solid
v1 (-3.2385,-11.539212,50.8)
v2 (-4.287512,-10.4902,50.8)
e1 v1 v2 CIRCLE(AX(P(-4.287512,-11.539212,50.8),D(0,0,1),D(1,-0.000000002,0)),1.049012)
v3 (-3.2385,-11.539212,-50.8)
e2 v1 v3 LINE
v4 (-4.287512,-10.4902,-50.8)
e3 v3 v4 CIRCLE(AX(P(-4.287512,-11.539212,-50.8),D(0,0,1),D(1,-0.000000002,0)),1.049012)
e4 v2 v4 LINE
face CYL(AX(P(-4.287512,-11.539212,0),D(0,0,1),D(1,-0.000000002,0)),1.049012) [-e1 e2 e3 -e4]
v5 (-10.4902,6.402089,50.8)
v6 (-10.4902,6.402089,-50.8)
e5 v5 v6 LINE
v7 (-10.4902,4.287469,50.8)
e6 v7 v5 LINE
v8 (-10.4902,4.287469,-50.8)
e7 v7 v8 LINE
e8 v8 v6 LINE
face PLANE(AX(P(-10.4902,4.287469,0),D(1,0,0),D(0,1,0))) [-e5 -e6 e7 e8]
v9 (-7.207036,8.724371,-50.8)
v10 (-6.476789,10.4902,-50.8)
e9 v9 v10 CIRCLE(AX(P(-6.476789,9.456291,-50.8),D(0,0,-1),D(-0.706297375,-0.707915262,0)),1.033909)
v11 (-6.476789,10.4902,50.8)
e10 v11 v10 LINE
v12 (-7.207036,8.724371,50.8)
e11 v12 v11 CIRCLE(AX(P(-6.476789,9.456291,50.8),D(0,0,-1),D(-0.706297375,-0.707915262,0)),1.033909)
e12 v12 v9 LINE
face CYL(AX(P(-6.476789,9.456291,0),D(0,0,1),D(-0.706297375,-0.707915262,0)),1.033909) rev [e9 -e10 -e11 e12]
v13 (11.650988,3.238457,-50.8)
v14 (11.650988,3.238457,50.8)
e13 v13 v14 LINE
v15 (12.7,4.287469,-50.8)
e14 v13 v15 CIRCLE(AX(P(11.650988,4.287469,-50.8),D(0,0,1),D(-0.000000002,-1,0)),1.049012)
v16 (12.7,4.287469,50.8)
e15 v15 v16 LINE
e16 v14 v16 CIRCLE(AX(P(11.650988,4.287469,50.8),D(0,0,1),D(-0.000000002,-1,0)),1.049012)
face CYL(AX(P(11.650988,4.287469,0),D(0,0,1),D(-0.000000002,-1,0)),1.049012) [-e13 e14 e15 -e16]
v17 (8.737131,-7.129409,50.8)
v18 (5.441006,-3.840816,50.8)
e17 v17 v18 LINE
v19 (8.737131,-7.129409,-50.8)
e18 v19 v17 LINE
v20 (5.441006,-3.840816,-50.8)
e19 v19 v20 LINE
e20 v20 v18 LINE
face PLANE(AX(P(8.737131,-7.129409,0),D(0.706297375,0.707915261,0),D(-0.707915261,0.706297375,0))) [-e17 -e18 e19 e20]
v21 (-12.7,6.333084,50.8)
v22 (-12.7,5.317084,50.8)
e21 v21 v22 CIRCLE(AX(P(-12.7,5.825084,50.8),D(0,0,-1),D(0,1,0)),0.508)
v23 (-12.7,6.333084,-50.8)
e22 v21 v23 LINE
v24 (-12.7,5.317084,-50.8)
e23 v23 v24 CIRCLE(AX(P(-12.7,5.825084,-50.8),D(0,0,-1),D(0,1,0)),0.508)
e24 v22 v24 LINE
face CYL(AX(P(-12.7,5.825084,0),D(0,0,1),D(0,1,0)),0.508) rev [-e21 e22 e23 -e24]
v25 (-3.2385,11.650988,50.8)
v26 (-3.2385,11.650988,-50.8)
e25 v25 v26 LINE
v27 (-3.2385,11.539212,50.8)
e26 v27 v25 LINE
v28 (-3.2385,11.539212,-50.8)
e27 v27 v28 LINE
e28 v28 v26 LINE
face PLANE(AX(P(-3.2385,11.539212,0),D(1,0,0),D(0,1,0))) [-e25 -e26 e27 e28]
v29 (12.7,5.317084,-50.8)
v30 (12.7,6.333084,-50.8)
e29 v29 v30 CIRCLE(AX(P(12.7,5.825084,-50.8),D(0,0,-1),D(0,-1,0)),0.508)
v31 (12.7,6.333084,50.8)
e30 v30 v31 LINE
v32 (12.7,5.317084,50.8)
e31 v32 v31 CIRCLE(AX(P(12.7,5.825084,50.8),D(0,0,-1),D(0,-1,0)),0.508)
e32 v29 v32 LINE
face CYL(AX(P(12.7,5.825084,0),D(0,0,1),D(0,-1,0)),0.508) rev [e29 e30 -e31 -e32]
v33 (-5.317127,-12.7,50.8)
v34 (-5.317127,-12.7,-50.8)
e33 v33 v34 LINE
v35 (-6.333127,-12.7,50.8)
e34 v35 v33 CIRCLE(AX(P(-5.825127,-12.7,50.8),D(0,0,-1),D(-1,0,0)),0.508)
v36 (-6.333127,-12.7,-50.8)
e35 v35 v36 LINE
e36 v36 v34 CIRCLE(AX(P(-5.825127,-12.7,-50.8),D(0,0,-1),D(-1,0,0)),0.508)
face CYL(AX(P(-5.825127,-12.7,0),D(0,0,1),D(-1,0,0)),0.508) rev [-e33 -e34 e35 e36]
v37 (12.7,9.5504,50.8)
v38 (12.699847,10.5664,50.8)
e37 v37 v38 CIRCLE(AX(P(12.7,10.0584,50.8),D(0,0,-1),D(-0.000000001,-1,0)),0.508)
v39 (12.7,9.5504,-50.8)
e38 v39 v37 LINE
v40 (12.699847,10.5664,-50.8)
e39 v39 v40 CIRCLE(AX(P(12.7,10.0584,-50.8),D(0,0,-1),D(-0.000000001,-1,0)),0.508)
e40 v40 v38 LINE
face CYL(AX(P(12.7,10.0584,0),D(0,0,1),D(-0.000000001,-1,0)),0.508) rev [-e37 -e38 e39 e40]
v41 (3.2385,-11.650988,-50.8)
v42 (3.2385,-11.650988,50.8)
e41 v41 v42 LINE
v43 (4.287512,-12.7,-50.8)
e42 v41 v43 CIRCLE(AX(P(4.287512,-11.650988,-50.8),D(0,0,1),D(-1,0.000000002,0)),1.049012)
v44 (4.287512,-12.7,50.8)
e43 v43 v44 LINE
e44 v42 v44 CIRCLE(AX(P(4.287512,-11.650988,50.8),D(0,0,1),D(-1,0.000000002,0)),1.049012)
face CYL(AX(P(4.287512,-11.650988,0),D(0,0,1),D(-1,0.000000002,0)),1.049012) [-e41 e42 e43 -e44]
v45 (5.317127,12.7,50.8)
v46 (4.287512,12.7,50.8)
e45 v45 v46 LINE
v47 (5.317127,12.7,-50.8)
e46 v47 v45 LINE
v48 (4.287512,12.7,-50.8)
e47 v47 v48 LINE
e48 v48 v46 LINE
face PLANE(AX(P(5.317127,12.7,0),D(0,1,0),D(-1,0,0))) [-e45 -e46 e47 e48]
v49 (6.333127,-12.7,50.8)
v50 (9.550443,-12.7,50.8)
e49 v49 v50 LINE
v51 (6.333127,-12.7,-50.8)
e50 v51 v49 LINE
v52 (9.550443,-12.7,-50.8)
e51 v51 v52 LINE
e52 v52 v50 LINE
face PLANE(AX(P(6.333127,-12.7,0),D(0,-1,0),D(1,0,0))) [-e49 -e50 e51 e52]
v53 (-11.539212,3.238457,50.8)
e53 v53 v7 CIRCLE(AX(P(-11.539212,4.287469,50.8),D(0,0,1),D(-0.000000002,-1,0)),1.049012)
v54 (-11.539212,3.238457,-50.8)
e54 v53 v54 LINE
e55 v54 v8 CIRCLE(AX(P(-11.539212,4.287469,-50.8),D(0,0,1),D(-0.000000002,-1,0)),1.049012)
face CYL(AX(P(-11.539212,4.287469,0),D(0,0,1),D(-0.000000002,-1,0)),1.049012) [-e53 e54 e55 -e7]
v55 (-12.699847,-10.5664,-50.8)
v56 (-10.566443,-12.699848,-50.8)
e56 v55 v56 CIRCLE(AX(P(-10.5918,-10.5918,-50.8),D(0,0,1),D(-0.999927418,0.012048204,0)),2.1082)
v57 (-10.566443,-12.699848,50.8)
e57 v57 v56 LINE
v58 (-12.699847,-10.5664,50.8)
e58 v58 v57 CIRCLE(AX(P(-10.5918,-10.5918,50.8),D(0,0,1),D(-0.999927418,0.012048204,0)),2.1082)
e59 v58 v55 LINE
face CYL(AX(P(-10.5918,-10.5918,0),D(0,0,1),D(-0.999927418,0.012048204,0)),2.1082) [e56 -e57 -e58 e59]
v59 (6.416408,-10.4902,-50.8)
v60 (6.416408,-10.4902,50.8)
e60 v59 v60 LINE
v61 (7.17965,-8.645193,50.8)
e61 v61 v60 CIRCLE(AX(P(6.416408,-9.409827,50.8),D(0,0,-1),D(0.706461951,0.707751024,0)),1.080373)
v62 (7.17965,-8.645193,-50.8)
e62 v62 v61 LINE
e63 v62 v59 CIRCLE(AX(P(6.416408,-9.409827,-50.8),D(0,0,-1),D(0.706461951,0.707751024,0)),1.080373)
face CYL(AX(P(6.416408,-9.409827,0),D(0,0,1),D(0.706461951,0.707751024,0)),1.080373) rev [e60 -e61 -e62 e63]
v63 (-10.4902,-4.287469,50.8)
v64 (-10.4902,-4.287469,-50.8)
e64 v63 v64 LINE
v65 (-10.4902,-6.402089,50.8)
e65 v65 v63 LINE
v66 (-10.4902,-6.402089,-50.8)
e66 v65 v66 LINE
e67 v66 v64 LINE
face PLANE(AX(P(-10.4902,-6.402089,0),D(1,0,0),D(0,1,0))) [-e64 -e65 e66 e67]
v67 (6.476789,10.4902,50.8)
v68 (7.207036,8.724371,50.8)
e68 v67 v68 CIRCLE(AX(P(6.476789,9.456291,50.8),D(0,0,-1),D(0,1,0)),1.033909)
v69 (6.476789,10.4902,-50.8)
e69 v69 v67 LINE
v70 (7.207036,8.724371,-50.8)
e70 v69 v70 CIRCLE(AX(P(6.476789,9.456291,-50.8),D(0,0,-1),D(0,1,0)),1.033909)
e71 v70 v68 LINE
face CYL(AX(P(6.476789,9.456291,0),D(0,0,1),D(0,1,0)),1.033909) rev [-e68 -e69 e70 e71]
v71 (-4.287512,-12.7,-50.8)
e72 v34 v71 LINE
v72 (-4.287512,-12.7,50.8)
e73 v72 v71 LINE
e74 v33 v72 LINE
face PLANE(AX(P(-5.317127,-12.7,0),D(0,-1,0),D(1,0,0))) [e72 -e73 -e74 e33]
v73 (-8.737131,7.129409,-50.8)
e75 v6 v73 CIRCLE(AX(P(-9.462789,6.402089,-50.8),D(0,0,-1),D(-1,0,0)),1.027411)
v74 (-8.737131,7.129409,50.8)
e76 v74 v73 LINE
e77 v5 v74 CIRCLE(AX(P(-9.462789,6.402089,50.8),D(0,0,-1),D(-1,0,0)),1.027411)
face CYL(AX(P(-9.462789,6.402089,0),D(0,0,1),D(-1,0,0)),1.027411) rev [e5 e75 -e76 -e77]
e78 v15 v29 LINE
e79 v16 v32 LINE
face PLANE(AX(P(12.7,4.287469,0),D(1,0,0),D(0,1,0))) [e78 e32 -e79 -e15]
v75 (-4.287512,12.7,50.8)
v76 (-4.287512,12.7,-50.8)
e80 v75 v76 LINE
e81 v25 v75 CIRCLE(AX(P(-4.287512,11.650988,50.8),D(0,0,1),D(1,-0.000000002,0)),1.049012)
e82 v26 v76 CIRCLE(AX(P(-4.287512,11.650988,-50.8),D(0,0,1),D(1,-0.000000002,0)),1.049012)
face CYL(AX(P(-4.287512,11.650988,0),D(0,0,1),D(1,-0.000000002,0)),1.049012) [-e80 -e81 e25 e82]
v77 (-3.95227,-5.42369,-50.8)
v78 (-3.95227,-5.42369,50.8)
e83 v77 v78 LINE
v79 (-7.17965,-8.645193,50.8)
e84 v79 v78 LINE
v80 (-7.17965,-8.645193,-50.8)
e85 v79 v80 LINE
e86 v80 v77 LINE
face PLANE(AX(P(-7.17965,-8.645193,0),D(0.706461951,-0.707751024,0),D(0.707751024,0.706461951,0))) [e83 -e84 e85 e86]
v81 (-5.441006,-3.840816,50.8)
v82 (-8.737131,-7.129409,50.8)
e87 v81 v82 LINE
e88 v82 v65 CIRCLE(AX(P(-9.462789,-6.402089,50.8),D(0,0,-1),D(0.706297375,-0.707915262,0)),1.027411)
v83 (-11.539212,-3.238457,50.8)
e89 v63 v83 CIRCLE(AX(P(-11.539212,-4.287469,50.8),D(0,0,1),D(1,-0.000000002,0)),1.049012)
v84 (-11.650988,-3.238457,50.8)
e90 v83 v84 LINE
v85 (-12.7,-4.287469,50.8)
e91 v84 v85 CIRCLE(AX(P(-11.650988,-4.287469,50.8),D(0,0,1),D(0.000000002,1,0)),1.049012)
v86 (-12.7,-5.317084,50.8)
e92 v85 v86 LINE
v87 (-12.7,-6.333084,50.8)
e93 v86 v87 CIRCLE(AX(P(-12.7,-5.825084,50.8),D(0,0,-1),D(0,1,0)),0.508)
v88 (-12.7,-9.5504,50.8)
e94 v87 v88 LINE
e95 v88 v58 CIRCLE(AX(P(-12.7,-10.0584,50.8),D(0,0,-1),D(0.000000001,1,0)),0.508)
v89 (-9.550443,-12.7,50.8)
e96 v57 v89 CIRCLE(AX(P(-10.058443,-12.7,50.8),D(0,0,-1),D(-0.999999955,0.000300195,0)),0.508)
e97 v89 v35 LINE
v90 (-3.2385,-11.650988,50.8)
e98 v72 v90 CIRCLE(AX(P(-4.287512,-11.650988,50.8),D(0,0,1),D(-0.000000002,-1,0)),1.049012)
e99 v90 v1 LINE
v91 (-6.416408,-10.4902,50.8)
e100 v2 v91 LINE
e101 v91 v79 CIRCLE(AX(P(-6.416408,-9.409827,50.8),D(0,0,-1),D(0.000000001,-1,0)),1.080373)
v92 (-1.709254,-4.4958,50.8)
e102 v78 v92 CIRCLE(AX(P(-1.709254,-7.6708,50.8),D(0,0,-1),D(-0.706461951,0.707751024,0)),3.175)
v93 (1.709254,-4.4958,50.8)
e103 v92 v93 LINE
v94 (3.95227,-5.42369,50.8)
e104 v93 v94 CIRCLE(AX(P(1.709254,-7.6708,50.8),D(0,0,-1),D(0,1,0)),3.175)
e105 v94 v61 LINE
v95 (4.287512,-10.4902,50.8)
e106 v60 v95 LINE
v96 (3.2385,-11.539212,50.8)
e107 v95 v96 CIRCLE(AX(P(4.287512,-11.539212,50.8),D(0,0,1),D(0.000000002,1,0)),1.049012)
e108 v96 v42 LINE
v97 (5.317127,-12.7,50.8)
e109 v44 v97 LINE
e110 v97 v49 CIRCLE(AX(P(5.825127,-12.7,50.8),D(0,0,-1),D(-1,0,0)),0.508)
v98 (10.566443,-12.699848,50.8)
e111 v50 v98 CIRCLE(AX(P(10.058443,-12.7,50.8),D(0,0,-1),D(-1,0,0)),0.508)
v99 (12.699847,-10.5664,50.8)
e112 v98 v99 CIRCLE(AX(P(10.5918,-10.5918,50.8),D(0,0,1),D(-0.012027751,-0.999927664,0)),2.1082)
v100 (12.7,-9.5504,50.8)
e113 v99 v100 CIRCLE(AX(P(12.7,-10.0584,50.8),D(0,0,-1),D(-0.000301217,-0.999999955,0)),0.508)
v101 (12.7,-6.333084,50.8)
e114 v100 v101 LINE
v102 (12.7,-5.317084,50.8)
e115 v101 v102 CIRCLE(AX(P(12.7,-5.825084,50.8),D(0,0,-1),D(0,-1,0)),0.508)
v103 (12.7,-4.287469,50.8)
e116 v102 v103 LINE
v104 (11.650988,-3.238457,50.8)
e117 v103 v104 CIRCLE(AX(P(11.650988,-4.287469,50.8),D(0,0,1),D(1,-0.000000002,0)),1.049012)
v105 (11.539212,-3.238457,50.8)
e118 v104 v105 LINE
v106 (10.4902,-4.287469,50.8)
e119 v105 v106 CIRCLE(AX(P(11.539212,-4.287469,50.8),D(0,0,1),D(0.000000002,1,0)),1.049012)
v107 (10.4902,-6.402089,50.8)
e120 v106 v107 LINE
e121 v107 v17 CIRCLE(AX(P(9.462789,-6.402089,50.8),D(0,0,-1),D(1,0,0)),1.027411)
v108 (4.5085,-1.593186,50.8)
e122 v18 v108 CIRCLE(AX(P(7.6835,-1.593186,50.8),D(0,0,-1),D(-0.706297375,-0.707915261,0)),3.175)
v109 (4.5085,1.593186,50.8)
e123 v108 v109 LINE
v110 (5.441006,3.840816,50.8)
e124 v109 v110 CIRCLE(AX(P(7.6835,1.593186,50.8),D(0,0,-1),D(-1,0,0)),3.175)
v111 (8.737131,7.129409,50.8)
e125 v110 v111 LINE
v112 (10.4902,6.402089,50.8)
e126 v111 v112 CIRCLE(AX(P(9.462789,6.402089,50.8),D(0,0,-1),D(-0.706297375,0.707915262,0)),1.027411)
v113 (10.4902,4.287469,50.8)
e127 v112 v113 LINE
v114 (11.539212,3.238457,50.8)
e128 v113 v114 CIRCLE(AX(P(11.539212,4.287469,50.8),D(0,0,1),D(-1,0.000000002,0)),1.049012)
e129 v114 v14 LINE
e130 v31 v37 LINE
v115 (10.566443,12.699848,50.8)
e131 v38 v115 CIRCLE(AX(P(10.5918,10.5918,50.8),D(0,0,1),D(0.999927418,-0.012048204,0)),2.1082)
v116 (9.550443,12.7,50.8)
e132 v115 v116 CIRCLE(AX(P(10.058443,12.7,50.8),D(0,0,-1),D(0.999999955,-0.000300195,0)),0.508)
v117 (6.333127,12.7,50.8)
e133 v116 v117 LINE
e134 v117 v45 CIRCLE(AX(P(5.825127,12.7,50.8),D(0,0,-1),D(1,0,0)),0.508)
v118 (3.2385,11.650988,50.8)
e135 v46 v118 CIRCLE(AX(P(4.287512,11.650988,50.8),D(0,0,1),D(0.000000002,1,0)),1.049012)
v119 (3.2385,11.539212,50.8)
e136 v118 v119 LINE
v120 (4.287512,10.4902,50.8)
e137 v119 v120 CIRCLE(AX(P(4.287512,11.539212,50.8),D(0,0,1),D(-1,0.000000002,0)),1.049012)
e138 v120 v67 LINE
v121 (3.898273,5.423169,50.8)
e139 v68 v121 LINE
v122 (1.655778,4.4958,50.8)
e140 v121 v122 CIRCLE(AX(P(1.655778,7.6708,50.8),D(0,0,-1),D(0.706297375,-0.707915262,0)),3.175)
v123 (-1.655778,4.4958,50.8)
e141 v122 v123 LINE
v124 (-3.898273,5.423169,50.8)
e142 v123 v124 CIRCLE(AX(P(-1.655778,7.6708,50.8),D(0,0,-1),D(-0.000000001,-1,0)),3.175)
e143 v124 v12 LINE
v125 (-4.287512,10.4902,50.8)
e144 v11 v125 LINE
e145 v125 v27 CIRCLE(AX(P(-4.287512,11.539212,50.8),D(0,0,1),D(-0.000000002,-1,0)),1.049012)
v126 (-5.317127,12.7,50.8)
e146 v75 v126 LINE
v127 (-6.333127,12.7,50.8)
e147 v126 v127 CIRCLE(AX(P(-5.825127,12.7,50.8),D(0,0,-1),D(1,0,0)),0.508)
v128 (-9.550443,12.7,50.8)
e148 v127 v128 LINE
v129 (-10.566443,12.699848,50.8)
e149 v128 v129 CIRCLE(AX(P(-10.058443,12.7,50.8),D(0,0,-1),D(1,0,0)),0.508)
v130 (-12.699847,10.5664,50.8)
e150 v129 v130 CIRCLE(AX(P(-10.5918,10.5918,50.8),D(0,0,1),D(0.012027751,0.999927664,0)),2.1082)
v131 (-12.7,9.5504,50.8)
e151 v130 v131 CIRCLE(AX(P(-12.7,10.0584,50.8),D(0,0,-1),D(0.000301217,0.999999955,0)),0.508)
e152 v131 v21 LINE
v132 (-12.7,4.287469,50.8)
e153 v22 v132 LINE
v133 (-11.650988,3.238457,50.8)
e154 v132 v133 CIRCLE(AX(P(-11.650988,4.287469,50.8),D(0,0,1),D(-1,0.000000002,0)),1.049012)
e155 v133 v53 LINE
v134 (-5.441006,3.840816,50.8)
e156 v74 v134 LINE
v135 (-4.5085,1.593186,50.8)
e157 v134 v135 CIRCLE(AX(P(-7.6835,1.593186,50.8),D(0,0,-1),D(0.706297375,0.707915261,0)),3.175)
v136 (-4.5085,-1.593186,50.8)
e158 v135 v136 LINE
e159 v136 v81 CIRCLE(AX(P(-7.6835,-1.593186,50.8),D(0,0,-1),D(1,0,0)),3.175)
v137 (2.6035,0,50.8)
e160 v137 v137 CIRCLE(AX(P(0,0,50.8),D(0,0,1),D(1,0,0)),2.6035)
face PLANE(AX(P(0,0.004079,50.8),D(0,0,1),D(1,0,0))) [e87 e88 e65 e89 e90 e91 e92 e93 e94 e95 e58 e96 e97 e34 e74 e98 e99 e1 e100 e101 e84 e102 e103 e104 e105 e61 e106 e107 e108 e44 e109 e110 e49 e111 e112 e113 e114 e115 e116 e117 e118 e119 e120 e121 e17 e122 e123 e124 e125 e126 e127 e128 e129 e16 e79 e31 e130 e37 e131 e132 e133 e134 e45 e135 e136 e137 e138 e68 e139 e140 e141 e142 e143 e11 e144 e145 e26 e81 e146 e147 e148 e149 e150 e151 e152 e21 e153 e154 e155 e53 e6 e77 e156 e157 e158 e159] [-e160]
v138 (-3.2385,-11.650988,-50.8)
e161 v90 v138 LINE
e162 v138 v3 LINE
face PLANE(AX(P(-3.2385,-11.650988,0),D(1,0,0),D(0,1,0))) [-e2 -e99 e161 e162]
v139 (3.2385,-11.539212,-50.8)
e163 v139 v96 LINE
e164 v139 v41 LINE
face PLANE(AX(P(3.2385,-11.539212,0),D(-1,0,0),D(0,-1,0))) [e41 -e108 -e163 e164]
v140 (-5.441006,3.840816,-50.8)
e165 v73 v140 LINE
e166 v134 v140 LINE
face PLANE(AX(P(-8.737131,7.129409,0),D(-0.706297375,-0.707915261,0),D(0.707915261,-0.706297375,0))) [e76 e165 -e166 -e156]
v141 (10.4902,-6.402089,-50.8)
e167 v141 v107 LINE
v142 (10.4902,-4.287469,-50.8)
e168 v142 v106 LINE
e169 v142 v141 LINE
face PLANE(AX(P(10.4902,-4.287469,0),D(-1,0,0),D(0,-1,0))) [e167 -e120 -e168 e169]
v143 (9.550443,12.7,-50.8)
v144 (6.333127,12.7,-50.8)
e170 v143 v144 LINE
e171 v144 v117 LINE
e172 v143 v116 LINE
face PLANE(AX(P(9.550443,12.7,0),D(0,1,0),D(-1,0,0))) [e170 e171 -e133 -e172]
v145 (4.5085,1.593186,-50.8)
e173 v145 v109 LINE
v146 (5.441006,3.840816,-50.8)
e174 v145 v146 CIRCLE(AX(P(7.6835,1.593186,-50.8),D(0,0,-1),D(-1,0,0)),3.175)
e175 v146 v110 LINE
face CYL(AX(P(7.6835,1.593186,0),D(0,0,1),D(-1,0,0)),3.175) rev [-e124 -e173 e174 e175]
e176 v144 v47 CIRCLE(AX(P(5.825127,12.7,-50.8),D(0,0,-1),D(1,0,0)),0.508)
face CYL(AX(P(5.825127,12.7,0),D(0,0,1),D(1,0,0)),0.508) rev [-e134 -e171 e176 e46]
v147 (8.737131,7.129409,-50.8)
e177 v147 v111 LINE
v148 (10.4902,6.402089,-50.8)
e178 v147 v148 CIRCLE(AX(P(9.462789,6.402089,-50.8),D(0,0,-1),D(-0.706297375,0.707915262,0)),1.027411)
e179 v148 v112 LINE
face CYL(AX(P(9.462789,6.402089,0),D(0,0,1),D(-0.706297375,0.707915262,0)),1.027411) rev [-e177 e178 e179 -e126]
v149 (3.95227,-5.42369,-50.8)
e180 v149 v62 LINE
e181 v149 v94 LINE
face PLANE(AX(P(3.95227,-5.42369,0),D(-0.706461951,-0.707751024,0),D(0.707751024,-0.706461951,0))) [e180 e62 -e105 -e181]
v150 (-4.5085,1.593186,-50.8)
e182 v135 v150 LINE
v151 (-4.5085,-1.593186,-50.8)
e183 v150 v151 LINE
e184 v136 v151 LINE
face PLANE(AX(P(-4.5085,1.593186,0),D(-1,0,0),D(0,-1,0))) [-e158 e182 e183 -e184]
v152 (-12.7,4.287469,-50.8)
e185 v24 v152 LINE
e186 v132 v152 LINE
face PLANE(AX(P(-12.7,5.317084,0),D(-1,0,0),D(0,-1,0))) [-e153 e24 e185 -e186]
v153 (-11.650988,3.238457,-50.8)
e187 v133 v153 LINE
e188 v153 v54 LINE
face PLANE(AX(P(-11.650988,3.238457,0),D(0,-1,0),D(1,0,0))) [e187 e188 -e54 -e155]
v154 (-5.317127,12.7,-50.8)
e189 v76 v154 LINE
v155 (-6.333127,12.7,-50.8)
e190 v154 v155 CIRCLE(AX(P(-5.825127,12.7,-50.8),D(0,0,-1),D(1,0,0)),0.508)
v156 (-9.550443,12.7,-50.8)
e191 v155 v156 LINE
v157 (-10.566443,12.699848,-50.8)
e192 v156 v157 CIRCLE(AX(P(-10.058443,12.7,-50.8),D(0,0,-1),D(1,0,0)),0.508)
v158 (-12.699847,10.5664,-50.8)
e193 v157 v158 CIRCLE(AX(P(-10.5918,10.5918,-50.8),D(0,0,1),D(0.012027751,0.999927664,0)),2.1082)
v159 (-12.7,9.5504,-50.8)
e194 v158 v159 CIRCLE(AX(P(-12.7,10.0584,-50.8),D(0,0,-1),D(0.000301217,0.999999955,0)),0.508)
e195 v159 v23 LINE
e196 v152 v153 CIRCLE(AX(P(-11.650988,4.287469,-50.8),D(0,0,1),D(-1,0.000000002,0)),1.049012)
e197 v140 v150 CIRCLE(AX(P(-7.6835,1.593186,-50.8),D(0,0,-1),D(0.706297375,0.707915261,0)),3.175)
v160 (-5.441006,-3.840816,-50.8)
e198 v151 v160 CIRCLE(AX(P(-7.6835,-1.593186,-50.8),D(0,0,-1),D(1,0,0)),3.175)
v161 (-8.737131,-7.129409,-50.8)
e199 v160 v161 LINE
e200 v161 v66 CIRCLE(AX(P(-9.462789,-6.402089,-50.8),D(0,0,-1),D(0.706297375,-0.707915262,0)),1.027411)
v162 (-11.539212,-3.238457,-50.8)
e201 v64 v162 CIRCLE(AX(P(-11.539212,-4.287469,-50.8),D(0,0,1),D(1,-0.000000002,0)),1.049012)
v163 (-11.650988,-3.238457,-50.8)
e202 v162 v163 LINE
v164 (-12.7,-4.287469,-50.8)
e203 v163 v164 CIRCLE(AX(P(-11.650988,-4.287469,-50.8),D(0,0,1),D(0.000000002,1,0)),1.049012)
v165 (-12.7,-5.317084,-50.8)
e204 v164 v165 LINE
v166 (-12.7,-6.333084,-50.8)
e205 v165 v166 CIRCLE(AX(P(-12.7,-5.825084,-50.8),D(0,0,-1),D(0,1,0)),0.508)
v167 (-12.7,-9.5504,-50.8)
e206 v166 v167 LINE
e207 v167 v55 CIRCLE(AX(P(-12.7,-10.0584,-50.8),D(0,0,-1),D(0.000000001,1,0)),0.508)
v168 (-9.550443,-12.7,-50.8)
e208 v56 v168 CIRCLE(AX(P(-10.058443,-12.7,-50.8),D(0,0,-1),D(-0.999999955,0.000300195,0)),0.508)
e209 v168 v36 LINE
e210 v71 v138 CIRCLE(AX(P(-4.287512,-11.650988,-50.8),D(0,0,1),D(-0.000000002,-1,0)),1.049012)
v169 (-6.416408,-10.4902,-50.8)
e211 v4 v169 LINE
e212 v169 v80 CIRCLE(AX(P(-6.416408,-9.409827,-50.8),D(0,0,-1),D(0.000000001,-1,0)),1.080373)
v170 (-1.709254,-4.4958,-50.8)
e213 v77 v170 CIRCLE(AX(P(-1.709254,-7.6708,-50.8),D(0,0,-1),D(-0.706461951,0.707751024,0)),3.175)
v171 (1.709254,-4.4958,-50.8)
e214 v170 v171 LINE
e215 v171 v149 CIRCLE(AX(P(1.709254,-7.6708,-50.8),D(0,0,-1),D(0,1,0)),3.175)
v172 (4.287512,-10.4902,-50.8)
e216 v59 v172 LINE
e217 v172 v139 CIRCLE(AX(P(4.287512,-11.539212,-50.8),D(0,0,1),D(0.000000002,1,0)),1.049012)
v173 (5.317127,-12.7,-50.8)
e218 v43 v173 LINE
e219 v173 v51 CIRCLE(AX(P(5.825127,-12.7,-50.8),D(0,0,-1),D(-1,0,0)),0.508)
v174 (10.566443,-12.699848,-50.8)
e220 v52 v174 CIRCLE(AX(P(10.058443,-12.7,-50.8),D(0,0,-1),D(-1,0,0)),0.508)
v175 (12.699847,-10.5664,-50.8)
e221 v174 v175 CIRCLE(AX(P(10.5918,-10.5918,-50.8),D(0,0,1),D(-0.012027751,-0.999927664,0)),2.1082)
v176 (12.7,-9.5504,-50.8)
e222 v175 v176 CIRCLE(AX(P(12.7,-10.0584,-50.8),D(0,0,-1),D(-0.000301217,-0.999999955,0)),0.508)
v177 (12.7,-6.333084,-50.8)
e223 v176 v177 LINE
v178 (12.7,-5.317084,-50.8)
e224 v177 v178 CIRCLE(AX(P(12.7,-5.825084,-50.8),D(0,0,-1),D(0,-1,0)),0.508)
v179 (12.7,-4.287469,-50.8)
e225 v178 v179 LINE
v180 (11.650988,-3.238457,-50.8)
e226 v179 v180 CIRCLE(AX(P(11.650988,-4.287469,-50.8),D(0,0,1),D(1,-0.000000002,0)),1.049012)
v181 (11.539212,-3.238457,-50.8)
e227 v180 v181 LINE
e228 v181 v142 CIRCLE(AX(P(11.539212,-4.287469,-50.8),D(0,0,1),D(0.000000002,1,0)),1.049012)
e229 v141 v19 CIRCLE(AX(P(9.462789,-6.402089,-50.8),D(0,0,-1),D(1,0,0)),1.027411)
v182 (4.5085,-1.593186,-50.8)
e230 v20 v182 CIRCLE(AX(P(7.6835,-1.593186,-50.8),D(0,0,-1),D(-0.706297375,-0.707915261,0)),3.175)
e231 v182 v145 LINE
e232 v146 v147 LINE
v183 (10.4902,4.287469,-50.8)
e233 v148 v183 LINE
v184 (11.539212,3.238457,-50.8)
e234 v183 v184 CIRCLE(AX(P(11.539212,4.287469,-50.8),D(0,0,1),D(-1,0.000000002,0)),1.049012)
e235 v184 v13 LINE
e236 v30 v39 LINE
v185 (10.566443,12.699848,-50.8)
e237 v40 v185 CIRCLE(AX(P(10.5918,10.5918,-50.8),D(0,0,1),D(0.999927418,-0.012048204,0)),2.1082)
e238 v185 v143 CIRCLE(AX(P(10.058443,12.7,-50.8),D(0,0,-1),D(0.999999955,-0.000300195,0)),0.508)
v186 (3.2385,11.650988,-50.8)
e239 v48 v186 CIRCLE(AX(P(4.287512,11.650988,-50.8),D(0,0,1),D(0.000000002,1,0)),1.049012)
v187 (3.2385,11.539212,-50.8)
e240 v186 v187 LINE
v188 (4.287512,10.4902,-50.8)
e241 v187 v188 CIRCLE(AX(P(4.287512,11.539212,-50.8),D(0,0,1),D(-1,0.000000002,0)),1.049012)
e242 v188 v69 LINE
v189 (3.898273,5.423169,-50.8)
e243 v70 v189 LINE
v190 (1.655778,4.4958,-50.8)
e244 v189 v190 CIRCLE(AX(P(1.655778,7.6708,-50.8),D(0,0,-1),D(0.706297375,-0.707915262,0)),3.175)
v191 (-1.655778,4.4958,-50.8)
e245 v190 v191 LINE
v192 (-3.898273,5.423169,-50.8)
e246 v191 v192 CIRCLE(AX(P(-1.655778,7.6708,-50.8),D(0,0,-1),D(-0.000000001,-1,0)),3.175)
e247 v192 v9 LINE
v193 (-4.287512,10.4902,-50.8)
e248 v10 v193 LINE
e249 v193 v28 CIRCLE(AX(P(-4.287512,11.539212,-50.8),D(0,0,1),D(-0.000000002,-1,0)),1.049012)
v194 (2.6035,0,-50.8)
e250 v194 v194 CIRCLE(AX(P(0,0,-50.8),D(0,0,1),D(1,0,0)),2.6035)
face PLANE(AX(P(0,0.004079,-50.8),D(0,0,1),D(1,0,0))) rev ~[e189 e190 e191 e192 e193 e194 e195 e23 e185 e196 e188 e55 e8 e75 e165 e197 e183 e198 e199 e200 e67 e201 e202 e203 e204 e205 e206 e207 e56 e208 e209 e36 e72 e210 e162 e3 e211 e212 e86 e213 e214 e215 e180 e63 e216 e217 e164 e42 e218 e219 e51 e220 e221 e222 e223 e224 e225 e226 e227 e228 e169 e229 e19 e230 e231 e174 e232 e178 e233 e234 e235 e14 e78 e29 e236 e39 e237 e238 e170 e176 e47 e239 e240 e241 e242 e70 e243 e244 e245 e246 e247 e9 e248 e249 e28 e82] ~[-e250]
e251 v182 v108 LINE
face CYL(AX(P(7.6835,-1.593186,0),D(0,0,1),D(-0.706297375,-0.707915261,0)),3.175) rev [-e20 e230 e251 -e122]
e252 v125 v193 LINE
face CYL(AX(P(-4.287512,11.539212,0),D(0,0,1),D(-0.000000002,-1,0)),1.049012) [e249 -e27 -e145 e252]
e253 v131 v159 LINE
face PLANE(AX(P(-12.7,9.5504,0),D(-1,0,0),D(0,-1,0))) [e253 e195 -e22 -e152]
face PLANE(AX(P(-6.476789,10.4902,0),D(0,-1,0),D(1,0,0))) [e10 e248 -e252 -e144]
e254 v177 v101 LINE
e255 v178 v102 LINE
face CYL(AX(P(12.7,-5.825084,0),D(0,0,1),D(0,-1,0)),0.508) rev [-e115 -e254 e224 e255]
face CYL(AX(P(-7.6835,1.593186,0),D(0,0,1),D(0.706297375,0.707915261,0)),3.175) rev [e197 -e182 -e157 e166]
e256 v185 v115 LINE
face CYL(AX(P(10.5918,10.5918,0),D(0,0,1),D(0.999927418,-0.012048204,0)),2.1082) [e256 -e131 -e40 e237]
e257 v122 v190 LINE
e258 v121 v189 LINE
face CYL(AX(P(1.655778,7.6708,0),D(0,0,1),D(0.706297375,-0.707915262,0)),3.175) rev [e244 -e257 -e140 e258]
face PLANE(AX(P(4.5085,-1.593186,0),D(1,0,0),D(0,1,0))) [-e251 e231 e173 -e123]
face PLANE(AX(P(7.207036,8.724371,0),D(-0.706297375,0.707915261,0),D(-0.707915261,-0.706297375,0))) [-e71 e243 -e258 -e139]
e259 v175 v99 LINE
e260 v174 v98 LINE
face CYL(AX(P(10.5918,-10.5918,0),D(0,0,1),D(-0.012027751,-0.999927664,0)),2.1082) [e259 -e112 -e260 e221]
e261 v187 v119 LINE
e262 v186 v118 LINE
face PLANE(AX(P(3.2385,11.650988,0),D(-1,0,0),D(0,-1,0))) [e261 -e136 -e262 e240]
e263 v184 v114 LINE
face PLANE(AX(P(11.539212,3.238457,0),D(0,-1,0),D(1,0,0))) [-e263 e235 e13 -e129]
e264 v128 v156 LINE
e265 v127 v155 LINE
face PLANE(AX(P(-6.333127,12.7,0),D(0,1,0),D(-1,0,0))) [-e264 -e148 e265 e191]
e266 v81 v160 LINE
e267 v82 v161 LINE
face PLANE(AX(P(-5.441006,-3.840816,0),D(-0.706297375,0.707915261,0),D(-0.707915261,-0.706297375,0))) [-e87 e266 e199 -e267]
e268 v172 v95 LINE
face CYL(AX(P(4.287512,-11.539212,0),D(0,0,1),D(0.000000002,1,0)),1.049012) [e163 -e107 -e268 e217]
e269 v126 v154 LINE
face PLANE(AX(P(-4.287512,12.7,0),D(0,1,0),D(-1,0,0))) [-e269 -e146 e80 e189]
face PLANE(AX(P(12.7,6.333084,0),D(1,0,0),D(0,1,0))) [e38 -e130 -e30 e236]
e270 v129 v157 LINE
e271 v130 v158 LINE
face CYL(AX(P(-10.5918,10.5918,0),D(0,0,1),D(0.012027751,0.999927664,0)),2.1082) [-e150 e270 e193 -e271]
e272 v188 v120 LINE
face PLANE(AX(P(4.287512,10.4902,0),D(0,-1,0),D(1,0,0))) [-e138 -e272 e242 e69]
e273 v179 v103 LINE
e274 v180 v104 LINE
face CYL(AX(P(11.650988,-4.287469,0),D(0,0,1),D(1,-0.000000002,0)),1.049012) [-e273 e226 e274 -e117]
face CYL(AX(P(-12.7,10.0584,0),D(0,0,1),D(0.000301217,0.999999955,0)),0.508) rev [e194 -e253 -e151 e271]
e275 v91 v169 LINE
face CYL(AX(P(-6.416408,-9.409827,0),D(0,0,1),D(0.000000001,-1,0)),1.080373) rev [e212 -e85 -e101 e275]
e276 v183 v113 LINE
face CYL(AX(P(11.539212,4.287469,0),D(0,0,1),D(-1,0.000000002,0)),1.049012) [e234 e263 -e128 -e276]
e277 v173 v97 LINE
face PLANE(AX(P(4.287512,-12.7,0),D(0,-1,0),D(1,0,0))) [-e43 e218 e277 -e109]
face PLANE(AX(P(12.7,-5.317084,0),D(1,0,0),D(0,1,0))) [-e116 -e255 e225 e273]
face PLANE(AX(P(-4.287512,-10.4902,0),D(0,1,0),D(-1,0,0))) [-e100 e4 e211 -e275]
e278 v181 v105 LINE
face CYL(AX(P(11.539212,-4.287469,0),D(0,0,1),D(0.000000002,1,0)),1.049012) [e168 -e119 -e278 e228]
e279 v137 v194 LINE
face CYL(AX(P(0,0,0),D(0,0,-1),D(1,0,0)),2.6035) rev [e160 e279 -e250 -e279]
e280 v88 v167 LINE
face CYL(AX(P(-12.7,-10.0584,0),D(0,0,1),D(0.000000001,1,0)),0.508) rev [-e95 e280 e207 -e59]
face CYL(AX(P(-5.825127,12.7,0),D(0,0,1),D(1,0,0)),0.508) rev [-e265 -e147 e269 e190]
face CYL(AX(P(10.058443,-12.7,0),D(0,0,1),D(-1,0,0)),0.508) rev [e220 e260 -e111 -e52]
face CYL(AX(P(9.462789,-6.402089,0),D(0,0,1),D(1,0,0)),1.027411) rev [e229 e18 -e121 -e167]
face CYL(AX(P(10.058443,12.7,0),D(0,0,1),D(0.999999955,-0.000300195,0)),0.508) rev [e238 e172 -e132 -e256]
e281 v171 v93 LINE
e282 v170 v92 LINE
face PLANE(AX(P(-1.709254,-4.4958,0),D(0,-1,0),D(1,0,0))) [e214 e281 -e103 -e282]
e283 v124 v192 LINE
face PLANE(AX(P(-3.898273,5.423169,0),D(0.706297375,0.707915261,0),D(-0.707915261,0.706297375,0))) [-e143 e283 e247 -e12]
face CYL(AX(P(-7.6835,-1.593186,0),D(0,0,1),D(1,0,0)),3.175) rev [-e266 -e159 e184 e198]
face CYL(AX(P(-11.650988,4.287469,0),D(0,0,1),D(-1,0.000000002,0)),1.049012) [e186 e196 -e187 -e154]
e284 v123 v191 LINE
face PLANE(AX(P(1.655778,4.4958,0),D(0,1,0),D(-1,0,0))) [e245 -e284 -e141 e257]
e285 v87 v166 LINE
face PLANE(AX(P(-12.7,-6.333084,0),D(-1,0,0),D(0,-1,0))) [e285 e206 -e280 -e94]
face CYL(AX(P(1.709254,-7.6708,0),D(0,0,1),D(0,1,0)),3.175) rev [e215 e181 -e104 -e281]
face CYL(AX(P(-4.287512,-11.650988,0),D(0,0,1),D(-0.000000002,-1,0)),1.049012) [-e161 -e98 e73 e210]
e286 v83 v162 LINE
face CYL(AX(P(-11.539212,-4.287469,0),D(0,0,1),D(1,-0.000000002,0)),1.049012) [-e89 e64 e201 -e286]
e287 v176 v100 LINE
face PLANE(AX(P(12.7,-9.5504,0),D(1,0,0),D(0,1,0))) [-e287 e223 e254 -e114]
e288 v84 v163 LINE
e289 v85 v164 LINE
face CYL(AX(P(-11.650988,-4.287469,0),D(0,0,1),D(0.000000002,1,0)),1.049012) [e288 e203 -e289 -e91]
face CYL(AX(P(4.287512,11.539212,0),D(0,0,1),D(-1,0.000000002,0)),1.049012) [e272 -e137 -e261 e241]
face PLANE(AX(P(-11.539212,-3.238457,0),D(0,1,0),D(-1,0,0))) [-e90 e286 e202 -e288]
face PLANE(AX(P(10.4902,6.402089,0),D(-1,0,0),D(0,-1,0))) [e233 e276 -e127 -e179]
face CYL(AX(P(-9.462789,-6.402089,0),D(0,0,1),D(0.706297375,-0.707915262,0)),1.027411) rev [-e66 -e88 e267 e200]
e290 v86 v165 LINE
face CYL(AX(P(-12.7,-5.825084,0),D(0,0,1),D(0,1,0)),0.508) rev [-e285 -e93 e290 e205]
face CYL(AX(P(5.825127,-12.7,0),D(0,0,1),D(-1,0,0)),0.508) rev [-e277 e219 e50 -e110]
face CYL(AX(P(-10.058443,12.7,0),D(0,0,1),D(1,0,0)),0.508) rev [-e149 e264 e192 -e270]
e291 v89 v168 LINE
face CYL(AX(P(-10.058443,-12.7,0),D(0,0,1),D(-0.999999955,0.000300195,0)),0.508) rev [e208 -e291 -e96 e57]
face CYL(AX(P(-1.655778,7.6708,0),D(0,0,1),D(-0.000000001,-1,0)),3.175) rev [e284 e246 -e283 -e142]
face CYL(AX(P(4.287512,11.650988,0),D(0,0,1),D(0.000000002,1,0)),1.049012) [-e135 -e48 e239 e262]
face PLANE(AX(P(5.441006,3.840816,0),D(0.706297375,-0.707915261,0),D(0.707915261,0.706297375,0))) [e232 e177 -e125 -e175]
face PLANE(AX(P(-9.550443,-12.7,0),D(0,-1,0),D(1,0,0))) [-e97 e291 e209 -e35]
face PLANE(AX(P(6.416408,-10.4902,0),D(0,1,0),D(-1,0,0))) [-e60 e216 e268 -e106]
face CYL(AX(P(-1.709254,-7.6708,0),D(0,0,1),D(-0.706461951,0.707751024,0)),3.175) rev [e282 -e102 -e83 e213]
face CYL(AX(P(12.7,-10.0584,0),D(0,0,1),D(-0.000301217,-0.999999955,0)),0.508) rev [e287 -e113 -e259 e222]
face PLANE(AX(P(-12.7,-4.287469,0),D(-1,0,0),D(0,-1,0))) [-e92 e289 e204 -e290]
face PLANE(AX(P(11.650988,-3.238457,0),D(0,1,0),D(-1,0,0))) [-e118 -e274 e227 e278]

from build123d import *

# Parameters (mm, degrees)
SKETCH1_R           = 2.6035
BOSS_EXTRUDE1_DEPTH = 50.8


with BuildPart() as part:
    # Sketch1 → Boss-Extrude1 (new body, symmetric)
    with BuildSketch(Plane.XY):
        with BuildLine():
            Line((-7.179650497, -8.645192506), (-3.952270251, -5.423690499))
            ThreePointArc((-3.952270251, -5.423690499), (-2.922936451, -4.736929036), (-1.709253557, -4.4958))
            Line((-1.709253557, -4.4958), (1.709253557, -4.4958))
            ThreePointArc((1.709253557, -4.4958), (2.922936451, -4.736929036), (3.952270251, -5.423690499))
            Line((3.952270251, -5.423690499), (7.179650497, -8.645192506))
            ThreePointArc((7.179650497, -8.645192506), (7.41473083, -9.822813117), (6.416408329, -10.4902))
            Line((6.416408329, -10.4902), (4.287512407, -10.4902))
            ThreePointArc((4.287512407, -10.4902), (3.54574862, -10.79744862), (3.2385, -11.539212407))
            Line((3.2385, -11.539212407), (3.2385, -11.650987593))
            ThreePointArc((3.2385, -11.650987593), (3.54574862, -12.39275138), (4.287512407, -12.7))
            Line((4.287512407, -12.7), (5.317126718, -12.7))
            ThreePointArc((5.317126718, -12.7), (5.825126718, -12.192), (6.333126718, -12.7))
            Line((6.333126718, -12.7), (9.550443118, -12.7))
            ThreePointArc((9.550443118, -12.7), (10.058366869, -12.192000006), (10.566443095, -12.699847501))
            ThreePointArc((10.566443095, -12.699847501), (12.082537762, -12.08250727), (12.699846982, -10.566399977))
            ThreePointArc((12.699846982, -10.566399977), (12.192000006, -10.058323491), (12.7, -9.5504))
            Line((12.7, -9.5504), (12.7, -6.3330836))
            ThreePointArc((12.7, -6.3330836), (12.192, -5.8250836), (12.7, -5.3170836))
            Line((12.7, -5.3170836), (12.7, -4.287469289))
            ThreePointArc((12.7, -4.287469289), (12.39275138, -3.545705502), (11.650987593, -3.238456882))
            Line((11.650987593, -3.238456882), (11.539212407, -3.238456882))
            ThreePointArc((11.539212407, -3.238456882), (10.79744862, -3.545705502), (10.4902, -4.287469289))
            Line((10.4902, -4.287469289), (10.4902, -6.402089023))
            ThreePointArc((10.4902, -6.402089023), (9.856505071, -7.351067942), (8.737131347, -7.129408934))
            Line((8.737131347, -7.129408934), (5.441005833, -3.840816462))
            ThreePointArc((5.441005833, -3.840816462), (4.750877967, -2.809883091), (4.5085, -1.593185507))
            Line((4.5085, -1.593185507), (4.5085, 1.593185507))
            ThreePointArc((4.5085, 1.593185507), (4.750877967, 2.809883091), (5.441005833, 3.840816462))
            Line((5.441005833, 3.840816462), (8.737131347, 7.129408934))
            ThreePointArc((8.737131347, 7.129408934), (9.856505071, 7.351067942), (10.4902, 6.402089023))
            Line((10.4902, 6.402089023), (10.4902, 4.287469289))
            ThreePointArc((10.4902, 4.287469289), (10.79744862, 3.545705502), (11.539212407, 3.238456882))
            Line((11.539212407, 3.238456882), (11.650987593, 3.238456882))
            ThreePointArc((11.650987593, 3.238456882), (12.39275138, 3.545705502), (12.7, 4.287469289))
            Line((12.7, 4.287469289), (12.7, 5.3170836))
            ThreePointArc((12.7, 5.3170836), (12.192, 5.8250836), (12.7, 6.3330836))
            Line((12.7, 6.3330836), (12.7, 9.5504))
            ThreePointArc((12.7, 9.5504), (12.192000006, 10.058323491), (12.699846982, 10.566399977))
            ThreePointArc((12.699846982, 10.566399977), (12.082537762, 12.08250727), (10.566443095, 12.699847501))
            ThreePointArc((10.566443095, 12.699847501), (10.058366869, 12.192000006), (9.550443118, 12.7))
            Line((9.550443118, 12.7), (6.333126718, 12.7))
            ThreePointArc((6.333126718, 12.7), (5.825126718, 12.192), (5.317126718, 12.7))
            Line((5.317126718, 12.7), (4.287512407, 12.7))
            ThreePointArc((4.287512407, 12.7), (3.54574862, 12.39275138), (3.2385, 11.650987593))
            Line((3.2385, 11.650987593), (3.2385, 11.539212407))
            ThreePointArc((3.2385, 11.539212407), (3.54574862, 10.79744862), (4.287512407, 10.4902))
            Line((4.287512407, 10.4902), (6.476788598, 10.4902))
            ThreePointArc((6.476788598, 10.4902), (7.432222385, 9.85140422), (7.207036008, 8.724370562))
            Line((7.207036008, 8.724370562), (3.898272566, 5.423169045))
            ThreePointArc((3.898272566, 5.423169045), (2.869120213, 4.736787962), (1.655778399, 4.4958))
            Line((1.655778399, 4.4958), (-1.655778399, 4.4958))
            ThreePointArc((-1.655778399, 4.4958), (-2.869120213, 4.736787962), (-3.898272566, 5.423169045))
            Line((-3.898272566, 5.423169045), (-7.207036008, 8.724370562))
            ThreePointArc((-7.207036008, 8.724370562), (-7.432222385, 9.85140422), (-6.476788598, 10.4902))
            Line((-6.476788598, 10.4902), (-4.287512407, 10.4902))
            ThreePointArc((-4.287512407, 10.4902), (-3.54574862, 10.79744862), (-3.2385, 11.539212407))
            Line((-3.2385, 11.539212407), (-3.2385, 11.650987593))
            ThreePointArc((-3.2385, 11.650987593), (-3.54574862, 12.39275138), (-4.287512407, 12.7))
            Line((-4.287512407, 12.7), (-5.317126718, 12.7))
            ThreePointArc((-5.317126718, 12.7), (-5.825126718, 12.192), (-6.333126718, 12.7))
            Line((-6.333126718, 12.7), (-9.550443118, 12.7))
            ThreePointArc((-9.550443118, 12.7), (-10.058366869, 12.192000006), (-10.566443095, 12.699847501))
            ThreePointArc((-10.566443095, 12.699847501), (-12.082537762, 12.08250727), (-12.699846982, 10.566399977))
            ThreePointArc((-12.699846982, 10.566399977), (-12.192000006, 10.058323491), (-12.7, 9.5504))
            Line((-12.7, 9.5504), (-12.7, 6.3330836))
            ThreePointArc((-12.7, 6.3330836), (-12.192, 5.8250836), (-12.7, 5.3170836))
            Line((-12.7, 5.3170836), (-12.7, 4.287469289))
            ThreePointArc((-12.7, 4.287469289), (-12.39275138, 3.545705502), (-11.650987593, 3.238456882))
            Line((-11.650987593, 3.238456882), (-11.539212407, 3.238456882))
            ThreePointArc((-11.539212407, 3.238456882), (-10.79744862, 3.545705502), (-10.4902, 4.287469289))
            Line((-10.4902, 4.287469289), (-10.4902, 6.402089023))
            ThreePointArc((-10.4902, 6.402089023), (-9.856505071, 7.351067942), (-8.737131347, 7.129408934))
            Line((-8.737131347, 7.129408934), (-5.441005833, 3.840816462))
            ThreePointArc((-5.441005833, 3.840816462), (-4.750877967, 2.809883091), (-4.5085, 1.593185507))
            Line((-4.5085, 1.593185507), (-4.5085, -1.593185507))
            ThreePointArc((-4.5085, -1.593185507), (-4.750877967, -2.809883091), (-5.441005833, -3.840816462))
            Line((-5.441005833, -3.840816462), (-8.737131347, -7.129408934))
            ThreePointArc((-8.737131347, -7.129408934), (-9.856505071, -7.351067942), (-10.4902, -6.402089023))
            Line((-10.4902, -6.402089023), (-10.4902, -4.287469289))
            ThreePointArc((-10.4902, -4.287469289), (-10.79744862, -3.545705502), (-11.539212407, -3.238456882))
            Line((-11.539212407, -3.238456882), (-11.650987593, -3.238456882))
            ThreePointArc((-11.650987593, -3.238456882), (-12.39275138, -3.545705502), (-12.7, -4.287469289))
            Line((-12.7, -4.287469289), (-12.7, -5.3170836))
            ThreePointArc((-12.7, -5.3170836), (-12.192, -5.8250836), (-12.7, -6.3330836))
            Line((-12.7, -6.3330836), (-12.7, -9.5504))
            ThreePointArc((-12.7, -9.5504), (-12.192000006, -10.058323491), (-12.699846982, -10.566399977))
            ThreePointArc((-12.699846982, -10.566399977), (-12.082537762, -12.08250727), (-10.566443095, -12.699847501))
            ThreePointArc((-10.566443095, -12.699847501), (-10.058366869, -12.192000006), (-9.550443118, -12.7))
            Line((-9.550443118, -12.7), (-6.333126718, -12.7))
            ThreePointArc((-6.333126718, -12.7), (-5.825126718, -12.192), (-5.317126718, -12.7))
            Line((-5.317126718, -12.7), (-4.287512407, -12.7))
            ThreePointArc((-4.287512407, -12.7), (-3.54574862, -12.39275138), (-3.2385, -11.650987593))
            Line((-3.2385, -11.650987593), (-3.2385, -11.539212407))
            ThreePointArc((-3.2385, -11.539212407), (-3.54574862, -10.79744862), (-4.287512407, -10.4902))
            Line((-4.287512407, -10.4902), (-6.416408329, -10.4902))
            ThreePointArc((-6.416408329, -10.4902), (-7.41473083, -9.822813117), (-7.179650497, -8.645192506))
        make_face()
        Circle(SKETCH1_R, mode=Mode.SUBTRACT)
    extrude(amount=BOSS_EXTRUDE1_DEPTH, both=True)


solid = part.part
